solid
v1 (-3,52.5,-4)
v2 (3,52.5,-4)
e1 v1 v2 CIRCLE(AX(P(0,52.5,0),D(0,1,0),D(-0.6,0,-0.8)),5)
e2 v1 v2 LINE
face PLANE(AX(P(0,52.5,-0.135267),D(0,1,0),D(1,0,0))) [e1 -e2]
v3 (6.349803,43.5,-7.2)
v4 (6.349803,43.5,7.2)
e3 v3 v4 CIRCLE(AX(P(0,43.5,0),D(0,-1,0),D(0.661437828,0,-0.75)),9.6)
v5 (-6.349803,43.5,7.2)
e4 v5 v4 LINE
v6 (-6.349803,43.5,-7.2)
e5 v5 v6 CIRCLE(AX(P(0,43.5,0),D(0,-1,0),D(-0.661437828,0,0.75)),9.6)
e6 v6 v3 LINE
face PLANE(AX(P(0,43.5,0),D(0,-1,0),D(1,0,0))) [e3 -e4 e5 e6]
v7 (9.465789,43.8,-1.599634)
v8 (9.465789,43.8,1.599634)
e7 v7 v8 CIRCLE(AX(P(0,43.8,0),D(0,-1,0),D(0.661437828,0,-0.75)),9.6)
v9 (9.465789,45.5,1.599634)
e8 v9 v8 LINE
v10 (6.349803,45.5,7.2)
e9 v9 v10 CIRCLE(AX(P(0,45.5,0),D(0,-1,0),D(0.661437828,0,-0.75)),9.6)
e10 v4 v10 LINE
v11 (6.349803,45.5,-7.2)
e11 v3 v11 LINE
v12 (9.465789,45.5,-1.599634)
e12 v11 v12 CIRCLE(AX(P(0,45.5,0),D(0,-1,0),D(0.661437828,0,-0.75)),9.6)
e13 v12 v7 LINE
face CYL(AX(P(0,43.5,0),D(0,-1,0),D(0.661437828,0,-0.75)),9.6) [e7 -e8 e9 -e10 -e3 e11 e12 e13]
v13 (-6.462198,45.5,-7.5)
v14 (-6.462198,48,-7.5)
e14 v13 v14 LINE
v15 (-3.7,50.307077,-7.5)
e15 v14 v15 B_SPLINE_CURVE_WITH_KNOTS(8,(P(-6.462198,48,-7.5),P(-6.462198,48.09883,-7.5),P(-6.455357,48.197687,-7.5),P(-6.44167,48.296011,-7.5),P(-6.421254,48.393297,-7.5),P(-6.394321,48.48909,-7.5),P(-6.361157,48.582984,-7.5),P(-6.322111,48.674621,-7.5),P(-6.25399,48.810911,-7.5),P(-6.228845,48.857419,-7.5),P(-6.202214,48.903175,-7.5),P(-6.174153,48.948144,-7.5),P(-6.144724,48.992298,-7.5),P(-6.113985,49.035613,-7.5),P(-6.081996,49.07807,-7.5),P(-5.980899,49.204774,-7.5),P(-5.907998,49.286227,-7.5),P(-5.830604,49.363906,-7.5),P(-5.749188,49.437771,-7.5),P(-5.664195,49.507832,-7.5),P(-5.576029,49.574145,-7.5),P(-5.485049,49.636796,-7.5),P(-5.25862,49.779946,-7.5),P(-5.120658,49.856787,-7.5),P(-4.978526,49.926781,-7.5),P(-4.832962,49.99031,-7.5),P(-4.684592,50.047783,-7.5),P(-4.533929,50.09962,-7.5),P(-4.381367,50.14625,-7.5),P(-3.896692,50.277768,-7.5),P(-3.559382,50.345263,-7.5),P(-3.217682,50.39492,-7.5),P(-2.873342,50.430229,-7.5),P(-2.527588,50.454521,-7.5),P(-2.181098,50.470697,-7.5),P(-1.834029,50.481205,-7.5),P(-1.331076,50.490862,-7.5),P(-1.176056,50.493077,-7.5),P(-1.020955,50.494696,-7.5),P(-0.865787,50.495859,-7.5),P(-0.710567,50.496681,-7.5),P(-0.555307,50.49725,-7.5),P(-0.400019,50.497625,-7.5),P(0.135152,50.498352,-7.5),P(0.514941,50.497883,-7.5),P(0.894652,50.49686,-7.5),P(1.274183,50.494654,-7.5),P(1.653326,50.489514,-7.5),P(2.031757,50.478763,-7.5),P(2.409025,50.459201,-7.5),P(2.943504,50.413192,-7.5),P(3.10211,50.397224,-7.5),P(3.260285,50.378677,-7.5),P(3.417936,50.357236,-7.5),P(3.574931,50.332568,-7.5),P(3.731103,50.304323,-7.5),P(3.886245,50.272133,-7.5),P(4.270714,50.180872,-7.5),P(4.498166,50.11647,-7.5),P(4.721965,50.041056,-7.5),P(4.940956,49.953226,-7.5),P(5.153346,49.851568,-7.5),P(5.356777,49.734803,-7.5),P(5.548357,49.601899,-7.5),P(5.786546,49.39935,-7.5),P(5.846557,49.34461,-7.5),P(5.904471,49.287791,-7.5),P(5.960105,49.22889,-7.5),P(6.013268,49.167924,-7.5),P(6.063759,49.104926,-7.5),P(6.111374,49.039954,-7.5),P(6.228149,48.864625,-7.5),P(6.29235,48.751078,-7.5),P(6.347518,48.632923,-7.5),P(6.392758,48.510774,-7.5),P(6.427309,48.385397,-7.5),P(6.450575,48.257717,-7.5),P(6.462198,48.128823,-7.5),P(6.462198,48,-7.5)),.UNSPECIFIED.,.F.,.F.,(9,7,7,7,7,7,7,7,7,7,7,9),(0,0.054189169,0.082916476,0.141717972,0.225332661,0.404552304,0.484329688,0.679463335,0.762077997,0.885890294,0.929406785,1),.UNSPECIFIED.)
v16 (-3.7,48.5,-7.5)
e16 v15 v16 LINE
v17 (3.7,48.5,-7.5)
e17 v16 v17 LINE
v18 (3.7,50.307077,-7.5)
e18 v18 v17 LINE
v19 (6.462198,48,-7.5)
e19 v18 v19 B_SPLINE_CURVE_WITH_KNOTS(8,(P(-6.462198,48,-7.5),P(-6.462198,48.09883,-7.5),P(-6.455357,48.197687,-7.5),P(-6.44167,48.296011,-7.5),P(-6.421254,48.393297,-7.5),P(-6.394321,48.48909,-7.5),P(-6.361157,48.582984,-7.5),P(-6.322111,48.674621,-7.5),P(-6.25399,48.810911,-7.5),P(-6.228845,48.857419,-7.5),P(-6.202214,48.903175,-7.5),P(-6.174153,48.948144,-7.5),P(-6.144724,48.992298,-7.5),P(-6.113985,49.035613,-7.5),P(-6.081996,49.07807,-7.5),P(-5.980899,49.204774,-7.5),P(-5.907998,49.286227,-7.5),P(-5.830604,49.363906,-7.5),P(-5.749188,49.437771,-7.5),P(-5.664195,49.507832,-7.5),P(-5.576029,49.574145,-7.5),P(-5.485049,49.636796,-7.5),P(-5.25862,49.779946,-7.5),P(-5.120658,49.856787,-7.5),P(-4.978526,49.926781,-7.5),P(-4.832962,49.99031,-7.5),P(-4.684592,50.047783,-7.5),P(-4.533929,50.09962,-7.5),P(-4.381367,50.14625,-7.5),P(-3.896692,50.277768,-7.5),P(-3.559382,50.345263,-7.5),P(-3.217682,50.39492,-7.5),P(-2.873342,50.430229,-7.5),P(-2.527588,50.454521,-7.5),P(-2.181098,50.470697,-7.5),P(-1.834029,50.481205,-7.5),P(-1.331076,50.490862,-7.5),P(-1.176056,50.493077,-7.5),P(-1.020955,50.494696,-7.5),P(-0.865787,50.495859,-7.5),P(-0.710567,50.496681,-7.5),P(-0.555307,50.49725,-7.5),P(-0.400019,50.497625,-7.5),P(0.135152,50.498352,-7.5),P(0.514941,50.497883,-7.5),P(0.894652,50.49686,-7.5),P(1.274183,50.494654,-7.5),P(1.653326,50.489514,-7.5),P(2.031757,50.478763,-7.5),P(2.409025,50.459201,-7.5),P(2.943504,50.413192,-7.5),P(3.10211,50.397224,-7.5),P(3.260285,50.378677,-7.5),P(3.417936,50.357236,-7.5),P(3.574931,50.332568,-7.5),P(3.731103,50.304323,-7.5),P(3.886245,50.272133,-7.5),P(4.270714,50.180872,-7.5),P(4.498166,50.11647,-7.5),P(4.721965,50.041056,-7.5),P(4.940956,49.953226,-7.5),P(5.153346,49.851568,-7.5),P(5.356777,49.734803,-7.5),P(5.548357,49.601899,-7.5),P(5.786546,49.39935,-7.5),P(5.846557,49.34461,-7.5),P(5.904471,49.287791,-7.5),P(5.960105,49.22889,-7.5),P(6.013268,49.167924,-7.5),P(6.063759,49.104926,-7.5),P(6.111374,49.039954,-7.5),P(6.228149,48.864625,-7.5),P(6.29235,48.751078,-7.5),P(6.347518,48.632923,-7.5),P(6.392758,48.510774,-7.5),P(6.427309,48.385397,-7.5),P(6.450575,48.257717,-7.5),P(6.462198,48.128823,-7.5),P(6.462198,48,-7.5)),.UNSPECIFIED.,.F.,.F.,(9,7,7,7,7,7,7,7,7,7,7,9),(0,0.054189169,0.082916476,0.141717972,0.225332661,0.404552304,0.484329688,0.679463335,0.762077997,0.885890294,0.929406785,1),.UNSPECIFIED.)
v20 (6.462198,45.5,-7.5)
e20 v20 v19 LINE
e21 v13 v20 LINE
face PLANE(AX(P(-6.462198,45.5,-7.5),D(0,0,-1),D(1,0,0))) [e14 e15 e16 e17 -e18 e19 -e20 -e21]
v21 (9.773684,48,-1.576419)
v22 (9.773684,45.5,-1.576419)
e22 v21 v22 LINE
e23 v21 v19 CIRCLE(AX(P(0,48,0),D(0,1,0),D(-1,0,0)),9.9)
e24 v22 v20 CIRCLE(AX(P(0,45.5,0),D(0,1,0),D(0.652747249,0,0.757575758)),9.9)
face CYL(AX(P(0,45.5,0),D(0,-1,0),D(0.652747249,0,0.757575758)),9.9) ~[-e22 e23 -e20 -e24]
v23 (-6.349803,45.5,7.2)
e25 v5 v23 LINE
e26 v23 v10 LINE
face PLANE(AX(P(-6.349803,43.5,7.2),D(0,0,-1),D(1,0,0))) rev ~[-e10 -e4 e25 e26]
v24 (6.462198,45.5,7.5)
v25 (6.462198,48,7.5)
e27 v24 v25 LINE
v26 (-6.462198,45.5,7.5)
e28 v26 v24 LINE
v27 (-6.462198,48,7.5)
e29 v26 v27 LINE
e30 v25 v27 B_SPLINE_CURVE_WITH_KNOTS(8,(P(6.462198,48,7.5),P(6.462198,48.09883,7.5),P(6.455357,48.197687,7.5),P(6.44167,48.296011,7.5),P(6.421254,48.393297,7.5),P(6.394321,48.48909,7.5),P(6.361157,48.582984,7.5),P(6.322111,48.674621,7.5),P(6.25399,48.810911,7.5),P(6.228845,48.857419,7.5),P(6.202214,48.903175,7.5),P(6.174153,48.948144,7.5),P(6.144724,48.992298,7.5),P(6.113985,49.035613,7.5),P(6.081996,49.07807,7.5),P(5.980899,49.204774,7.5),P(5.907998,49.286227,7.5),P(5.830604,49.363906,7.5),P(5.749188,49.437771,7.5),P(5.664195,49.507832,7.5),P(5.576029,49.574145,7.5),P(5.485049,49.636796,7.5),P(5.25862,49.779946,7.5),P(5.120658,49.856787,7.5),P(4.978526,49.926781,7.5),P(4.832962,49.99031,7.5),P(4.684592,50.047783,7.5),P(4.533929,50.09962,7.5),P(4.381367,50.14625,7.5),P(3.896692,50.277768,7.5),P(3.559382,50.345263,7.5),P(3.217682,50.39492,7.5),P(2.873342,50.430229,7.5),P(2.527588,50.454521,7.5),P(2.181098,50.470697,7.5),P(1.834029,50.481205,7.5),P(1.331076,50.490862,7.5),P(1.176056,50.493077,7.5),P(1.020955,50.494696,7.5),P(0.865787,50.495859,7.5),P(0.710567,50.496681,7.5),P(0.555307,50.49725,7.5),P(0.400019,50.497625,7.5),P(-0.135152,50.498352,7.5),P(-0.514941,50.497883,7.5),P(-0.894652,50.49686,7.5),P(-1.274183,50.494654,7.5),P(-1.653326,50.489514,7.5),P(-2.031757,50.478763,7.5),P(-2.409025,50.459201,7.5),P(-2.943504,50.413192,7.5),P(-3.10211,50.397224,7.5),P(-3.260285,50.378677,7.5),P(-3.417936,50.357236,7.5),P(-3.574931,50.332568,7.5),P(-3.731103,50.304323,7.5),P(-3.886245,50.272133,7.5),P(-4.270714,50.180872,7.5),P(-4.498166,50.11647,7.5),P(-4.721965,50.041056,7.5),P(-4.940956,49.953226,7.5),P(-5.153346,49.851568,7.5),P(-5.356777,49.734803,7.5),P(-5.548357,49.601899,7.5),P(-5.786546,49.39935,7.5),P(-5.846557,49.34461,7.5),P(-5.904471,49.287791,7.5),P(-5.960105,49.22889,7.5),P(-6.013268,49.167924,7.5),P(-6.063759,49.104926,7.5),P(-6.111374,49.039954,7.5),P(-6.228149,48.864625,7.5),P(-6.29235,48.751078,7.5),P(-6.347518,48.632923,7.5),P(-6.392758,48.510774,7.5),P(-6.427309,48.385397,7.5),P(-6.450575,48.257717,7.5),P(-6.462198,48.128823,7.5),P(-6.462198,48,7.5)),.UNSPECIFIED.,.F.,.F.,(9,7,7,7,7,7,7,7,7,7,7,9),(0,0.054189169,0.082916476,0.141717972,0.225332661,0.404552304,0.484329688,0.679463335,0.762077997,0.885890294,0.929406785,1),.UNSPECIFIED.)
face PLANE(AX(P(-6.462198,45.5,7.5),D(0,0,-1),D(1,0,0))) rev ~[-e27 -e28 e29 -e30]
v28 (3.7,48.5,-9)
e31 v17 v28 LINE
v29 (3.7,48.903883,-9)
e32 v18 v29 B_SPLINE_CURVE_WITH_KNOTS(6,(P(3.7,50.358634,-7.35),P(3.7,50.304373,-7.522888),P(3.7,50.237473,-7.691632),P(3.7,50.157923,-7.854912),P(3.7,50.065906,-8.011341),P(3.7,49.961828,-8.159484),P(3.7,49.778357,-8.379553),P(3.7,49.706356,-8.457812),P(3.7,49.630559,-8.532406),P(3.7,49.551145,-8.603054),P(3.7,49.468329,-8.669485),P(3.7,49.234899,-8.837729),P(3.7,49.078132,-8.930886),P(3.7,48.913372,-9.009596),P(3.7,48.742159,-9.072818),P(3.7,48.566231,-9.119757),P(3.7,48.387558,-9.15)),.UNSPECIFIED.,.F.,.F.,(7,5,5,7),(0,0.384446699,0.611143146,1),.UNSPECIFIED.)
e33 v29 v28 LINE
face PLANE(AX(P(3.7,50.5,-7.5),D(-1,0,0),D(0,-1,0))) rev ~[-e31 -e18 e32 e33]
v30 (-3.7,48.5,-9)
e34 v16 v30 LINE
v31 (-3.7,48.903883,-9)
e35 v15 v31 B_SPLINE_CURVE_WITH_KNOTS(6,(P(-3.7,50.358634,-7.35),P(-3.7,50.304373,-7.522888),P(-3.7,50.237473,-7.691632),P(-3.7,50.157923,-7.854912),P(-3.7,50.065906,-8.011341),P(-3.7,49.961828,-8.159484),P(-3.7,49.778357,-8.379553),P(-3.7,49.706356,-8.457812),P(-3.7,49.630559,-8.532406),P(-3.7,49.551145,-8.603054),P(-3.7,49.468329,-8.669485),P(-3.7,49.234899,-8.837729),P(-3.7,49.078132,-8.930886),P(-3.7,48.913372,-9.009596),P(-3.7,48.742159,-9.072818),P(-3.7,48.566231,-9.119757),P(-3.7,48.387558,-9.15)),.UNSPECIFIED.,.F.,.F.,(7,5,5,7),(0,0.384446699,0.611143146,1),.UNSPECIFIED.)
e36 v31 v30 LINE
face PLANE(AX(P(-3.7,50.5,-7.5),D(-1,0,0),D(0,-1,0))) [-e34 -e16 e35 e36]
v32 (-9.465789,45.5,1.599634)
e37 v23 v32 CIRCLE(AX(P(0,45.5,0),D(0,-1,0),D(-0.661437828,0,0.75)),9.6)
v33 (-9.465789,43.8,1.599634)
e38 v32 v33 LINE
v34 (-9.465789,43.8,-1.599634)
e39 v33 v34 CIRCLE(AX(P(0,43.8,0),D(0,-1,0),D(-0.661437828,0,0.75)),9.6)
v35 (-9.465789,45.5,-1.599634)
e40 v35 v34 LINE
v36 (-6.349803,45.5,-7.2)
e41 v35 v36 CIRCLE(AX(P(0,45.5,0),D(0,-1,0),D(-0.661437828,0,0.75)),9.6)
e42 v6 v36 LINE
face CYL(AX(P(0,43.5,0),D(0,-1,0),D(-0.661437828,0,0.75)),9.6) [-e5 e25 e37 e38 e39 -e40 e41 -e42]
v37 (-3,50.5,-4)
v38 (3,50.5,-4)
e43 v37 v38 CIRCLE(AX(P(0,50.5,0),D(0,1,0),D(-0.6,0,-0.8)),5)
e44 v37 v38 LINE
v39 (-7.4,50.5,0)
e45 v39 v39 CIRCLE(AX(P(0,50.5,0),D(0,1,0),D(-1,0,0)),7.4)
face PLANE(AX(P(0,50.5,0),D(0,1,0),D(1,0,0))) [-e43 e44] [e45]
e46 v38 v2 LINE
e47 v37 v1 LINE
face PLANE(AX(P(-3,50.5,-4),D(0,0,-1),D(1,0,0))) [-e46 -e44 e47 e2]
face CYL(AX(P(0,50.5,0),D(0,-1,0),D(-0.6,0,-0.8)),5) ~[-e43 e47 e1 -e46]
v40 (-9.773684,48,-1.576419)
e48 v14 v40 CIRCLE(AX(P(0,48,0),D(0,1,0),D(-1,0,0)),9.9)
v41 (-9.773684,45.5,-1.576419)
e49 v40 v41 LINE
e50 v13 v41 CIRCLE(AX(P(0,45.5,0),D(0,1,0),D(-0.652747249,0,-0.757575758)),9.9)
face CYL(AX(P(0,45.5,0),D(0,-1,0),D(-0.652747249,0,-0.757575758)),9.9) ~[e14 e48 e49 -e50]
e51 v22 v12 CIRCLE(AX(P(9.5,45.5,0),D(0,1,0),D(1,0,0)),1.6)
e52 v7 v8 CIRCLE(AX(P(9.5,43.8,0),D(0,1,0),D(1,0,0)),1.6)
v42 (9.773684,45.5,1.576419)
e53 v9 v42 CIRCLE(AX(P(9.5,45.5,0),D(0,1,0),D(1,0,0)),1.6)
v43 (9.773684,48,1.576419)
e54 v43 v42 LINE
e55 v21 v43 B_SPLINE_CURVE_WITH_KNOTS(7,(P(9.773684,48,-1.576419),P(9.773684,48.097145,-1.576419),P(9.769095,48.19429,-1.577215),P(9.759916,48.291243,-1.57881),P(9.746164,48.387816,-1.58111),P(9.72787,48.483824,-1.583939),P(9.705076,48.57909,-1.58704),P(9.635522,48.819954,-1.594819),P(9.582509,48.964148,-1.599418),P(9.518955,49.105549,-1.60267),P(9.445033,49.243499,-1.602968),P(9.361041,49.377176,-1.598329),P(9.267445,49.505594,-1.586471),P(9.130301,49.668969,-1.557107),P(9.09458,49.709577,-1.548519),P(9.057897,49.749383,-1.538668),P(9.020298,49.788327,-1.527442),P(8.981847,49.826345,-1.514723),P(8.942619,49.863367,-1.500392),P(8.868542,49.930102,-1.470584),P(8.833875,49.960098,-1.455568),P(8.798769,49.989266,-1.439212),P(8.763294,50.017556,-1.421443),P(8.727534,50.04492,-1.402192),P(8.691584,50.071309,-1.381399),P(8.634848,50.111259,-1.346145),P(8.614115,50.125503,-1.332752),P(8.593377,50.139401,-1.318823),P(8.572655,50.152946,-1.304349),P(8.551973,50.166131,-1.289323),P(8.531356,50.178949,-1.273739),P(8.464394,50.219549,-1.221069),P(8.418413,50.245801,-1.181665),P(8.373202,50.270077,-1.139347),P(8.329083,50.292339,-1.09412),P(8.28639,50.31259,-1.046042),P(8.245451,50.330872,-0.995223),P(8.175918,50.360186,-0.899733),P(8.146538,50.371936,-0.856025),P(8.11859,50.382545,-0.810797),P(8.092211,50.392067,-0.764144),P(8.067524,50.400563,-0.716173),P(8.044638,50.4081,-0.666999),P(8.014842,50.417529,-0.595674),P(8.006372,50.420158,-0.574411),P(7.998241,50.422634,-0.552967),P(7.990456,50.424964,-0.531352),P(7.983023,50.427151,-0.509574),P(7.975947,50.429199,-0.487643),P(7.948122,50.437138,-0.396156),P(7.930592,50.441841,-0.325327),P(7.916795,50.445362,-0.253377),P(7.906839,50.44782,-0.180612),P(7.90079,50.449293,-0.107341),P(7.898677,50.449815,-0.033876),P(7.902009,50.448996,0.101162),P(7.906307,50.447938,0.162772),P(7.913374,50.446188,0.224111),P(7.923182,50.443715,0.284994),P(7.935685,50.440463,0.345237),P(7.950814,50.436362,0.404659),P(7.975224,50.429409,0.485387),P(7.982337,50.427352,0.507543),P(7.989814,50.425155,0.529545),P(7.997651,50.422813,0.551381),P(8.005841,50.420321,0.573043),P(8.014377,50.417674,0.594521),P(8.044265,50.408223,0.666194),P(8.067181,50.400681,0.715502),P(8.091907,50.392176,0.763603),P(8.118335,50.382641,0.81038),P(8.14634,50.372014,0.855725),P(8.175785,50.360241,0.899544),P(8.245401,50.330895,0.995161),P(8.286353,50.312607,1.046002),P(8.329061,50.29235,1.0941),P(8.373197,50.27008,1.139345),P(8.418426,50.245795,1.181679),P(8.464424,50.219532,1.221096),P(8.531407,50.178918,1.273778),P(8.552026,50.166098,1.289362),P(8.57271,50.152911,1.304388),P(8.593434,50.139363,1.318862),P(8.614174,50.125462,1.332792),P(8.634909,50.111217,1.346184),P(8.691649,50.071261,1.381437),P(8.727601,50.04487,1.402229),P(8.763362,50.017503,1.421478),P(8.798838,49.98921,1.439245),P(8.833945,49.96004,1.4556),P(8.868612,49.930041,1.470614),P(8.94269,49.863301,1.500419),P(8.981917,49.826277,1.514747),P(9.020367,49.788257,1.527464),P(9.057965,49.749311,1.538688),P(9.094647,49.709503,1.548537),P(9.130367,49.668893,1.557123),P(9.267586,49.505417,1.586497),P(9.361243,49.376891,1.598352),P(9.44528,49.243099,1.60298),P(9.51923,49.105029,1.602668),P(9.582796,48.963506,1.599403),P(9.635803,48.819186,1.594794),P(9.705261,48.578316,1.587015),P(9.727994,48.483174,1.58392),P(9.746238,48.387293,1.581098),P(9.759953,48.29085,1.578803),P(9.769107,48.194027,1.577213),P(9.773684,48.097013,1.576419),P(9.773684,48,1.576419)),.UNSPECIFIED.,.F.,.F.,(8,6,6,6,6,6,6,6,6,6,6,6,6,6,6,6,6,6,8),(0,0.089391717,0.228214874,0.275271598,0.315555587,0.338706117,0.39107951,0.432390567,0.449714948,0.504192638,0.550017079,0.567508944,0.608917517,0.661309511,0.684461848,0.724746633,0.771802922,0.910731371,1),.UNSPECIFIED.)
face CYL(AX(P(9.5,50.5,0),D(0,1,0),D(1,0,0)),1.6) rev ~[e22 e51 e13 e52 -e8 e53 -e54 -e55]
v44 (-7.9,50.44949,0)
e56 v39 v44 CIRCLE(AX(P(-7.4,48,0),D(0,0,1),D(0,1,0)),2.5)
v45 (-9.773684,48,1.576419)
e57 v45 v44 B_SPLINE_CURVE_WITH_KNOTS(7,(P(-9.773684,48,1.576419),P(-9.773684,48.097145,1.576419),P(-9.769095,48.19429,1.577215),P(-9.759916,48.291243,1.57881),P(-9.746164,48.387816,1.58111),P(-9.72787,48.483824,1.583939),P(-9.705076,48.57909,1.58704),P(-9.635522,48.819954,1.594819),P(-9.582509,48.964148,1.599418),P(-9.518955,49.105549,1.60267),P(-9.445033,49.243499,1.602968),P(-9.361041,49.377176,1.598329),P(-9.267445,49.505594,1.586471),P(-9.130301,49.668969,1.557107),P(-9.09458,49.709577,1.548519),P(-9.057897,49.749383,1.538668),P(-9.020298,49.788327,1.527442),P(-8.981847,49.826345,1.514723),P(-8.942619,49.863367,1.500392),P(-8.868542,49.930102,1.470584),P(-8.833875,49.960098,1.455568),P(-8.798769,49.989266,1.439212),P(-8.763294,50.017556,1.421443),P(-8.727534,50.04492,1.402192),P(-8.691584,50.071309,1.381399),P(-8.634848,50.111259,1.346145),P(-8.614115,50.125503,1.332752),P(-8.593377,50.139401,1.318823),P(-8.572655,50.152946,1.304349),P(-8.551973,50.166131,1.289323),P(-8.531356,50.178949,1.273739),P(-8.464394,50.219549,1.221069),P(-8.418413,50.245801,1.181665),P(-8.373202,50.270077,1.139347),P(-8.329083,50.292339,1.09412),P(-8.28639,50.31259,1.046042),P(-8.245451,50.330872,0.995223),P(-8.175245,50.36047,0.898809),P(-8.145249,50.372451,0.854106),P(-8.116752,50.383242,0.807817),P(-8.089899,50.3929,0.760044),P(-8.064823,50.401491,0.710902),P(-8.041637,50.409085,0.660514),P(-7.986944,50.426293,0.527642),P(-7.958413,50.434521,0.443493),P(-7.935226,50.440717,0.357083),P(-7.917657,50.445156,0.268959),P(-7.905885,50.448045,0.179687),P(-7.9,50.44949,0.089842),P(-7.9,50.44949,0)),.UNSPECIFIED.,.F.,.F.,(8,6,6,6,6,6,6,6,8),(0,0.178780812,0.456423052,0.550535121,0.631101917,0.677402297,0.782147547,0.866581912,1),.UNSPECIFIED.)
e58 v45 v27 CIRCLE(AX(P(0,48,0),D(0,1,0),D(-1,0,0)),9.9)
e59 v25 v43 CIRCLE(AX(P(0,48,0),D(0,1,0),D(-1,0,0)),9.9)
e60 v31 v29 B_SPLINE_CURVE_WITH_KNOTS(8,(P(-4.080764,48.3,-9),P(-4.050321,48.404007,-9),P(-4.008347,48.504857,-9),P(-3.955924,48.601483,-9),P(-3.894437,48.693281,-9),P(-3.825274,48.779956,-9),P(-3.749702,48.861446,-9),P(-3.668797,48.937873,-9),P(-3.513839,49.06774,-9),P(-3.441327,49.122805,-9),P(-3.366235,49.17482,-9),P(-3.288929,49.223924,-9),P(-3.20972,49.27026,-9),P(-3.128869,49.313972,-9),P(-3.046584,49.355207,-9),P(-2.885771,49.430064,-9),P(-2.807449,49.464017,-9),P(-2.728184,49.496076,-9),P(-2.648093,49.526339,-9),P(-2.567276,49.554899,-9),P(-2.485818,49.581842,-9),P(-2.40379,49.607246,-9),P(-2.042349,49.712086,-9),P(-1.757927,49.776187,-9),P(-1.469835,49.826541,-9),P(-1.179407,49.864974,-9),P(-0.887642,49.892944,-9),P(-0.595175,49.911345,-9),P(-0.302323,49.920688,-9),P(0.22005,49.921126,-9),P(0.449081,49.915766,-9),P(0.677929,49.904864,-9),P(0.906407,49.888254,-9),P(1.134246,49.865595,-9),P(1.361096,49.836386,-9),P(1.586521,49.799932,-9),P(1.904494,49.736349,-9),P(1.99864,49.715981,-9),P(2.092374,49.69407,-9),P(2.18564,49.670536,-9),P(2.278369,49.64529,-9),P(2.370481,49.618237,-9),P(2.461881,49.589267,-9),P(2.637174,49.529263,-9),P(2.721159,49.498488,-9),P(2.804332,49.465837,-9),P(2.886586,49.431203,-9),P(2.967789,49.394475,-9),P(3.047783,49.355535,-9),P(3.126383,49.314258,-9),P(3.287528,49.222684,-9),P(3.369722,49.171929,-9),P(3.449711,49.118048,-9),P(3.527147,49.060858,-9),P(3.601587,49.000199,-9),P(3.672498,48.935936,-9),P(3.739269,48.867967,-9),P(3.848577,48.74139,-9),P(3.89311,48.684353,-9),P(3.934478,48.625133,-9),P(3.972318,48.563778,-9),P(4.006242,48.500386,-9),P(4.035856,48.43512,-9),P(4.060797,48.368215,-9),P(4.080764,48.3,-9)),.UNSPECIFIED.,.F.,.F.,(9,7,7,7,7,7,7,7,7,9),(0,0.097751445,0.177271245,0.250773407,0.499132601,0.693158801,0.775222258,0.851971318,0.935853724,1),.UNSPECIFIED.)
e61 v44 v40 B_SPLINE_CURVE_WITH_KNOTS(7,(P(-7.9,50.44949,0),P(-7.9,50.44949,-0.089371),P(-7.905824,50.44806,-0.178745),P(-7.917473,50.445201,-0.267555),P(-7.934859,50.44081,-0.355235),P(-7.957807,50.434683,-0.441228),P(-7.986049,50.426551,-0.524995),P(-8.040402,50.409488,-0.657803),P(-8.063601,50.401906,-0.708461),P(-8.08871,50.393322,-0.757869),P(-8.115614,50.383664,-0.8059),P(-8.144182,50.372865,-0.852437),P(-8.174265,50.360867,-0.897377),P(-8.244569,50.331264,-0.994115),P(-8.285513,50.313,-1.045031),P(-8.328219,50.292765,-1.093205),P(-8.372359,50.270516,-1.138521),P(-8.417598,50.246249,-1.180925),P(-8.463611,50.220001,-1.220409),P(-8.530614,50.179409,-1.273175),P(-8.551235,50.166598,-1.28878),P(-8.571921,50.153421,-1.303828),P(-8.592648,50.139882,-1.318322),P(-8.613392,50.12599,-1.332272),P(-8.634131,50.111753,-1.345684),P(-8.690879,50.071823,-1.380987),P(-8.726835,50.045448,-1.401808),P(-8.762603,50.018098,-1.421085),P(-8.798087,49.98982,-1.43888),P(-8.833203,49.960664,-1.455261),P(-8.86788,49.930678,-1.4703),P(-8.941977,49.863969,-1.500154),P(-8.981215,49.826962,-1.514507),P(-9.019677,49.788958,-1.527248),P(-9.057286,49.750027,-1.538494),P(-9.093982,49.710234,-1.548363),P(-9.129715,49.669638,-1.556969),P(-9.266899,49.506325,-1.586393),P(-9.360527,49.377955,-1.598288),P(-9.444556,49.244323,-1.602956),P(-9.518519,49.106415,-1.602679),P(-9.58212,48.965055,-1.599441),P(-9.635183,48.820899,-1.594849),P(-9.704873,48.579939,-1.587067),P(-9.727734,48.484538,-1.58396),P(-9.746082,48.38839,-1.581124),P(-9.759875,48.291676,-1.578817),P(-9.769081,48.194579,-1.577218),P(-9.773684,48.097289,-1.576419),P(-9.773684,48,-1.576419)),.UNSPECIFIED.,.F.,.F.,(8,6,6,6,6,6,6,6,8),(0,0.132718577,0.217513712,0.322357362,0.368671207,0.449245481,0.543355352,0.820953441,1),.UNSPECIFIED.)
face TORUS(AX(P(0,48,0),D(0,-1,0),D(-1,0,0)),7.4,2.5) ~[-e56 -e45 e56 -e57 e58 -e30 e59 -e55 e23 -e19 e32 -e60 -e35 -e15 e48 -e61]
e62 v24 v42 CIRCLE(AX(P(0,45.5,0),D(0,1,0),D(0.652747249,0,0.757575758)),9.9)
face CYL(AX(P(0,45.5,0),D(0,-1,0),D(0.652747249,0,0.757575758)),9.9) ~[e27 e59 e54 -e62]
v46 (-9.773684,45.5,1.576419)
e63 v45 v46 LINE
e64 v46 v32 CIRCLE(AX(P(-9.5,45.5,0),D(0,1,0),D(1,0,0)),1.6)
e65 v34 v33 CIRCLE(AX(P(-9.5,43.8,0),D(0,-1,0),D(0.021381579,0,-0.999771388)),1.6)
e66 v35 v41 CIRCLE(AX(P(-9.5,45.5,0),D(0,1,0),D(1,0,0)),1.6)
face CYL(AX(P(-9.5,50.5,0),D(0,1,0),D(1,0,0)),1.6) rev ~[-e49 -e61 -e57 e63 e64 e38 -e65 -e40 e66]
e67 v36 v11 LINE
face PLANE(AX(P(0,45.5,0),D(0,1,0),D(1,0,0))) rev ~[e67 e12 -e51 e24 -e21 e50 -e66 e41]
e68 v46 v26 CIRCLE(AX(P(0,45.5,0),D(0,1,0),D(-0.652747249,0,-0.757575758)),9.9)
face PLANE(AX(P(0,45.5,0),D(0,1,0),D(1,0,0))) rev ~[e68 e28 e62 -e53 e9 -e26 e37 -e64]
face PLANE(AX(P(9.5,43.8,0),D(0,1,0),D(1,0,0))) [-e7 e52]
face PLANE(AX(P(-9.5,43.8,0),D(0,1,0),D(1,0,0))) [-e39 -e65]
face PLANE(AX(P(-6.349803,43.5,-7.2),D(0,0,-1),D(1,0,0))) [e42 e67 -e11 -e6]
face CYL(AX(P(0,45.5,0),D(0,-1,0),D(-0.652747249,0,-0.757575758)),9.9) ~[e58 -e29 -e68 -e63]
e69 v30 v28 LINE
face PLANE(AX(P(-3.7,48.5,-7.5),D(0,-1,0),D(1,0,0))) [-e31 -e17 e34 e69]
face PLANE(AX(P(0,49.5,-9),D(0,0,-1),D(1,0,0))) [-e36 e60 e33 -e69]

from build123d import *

# Parameters (mm, degrees)
PAD037_DEPTH    = 2
PAD043_DEPTH    = 5
PAD018_DEPTH    = 2
SKETCH069_R     = 1.6
POCKET020_DEPTH = 6.7
SKETCH071_W     = 7.4
SKETCH071_H     = 2
PAD045_DEPTH    = 1.5


with BuildPart() as part:
    # Sketch051 → Pad037 (new body)
    with BuildSketch(Plane.XZ.offset(-17.8)):
        with BuildLine():
            ThreePointArc((-6.3498031466, 7.2), (-9.6, 0), (-6.3498031466, -7.2))
            Line((-6.3498031466, -7.2), (6.3498031466, -7.2))
            ThreePointArc((6.3498031466, -7.2), (9.6, 0), (6.3498031466, 7.2))
            Line((-6.3498031466, 7.2), (6.3498031466, 7.2))
        make_face()
    extrude(amount=-PAD037_DEPTH)

    # Sketch067 (on Face6 of Pad037) → Pad043 (join)
    with BuildSketch(Plane(origin=(0, 19.8, 0), x_dir=(1, 0, 0), z_dir=(0, 1, 0))):
        with BuildLine():
            ThreePointArc((-6.4621977686, 7.5), (-9.9, 0), (-6.4621977686, -7.5))
            Line((-6.4621977686, -7.5), (6.4621977686, -7.5))
            ThreePointArc((6.4621977686, -7.5), (9.9, 0), (6.4621977686, 7.5))
            Line((-6.4621977686, 7.5), (6.4621977686, 7.5))
        make_face()
    extrude(amount=PAD043_DEPTH)

    # Sketch068 (on Face5 of Pad043) → Pad018 (join)
    with BuildSketch(Plane(origin=(0, 24.8, 0), x_dir=(1, 0, 0), z_dir=(0, 1, 0))):
        with BuildLine():
            ThreePointArc((-3, 4), (0, -5), (3, 4))
            Line((-3, 4), (3, 4))
        make_face()
    extrude(amount=PAD018_DEPTH)

    # Sketch069 (on Face5 of Pad018) → Pocket020 (cut)
    with BuildSketch(Plane(origin=(0, 24.8, 0), x_dir=(1, 0, 0), z_dir=(0, 1, 0))):
        with Locations((-9.5, 0)):
            Circle(SKETCH069_R)
        with Locations((9.5, 0)):
            Circle(SKETCH069_R)
    extrude(amount=-POCKET020_DEPTH, mode=Mode.SUBTRACT)

    # Sketch071 (on Face4 of Pocket020) → Pad045 (join)
    with BuildSketch(Plane(origin=(0, 0, -7.5), x_dir=(1, 0, 0), z_dir=(0, 0, -1))):
        with Locations((0, -23.8)):
            Rectangle(SKETCH071_W, SKETCH071_H)
    extrude(amount=PAD045_DEPTH)

    # Sketch072 → Groove (revolve, cut)
    with BuildSketch(Plane.XY):
        with BuildLine():
            ThreePointArc((-7.4, 24.8), (-9.167766953, 24.067766953), (-9.9, 22.3))
            Line((-9.9, 24.8), (-9.9, 22.3))
            Line((-9.9, 24.8), (-7.4, 24.8))
        make_face()
    revolve(axis=Axis((0, 0, 0), (0, 1, 0)), mode=Mode.SUBTRACT)


with BuildPart() as part_1:
    # Body023 placement: moved
    add(part.part.moved(Location((0, 25.7, 0))))


solid = part_1.part
